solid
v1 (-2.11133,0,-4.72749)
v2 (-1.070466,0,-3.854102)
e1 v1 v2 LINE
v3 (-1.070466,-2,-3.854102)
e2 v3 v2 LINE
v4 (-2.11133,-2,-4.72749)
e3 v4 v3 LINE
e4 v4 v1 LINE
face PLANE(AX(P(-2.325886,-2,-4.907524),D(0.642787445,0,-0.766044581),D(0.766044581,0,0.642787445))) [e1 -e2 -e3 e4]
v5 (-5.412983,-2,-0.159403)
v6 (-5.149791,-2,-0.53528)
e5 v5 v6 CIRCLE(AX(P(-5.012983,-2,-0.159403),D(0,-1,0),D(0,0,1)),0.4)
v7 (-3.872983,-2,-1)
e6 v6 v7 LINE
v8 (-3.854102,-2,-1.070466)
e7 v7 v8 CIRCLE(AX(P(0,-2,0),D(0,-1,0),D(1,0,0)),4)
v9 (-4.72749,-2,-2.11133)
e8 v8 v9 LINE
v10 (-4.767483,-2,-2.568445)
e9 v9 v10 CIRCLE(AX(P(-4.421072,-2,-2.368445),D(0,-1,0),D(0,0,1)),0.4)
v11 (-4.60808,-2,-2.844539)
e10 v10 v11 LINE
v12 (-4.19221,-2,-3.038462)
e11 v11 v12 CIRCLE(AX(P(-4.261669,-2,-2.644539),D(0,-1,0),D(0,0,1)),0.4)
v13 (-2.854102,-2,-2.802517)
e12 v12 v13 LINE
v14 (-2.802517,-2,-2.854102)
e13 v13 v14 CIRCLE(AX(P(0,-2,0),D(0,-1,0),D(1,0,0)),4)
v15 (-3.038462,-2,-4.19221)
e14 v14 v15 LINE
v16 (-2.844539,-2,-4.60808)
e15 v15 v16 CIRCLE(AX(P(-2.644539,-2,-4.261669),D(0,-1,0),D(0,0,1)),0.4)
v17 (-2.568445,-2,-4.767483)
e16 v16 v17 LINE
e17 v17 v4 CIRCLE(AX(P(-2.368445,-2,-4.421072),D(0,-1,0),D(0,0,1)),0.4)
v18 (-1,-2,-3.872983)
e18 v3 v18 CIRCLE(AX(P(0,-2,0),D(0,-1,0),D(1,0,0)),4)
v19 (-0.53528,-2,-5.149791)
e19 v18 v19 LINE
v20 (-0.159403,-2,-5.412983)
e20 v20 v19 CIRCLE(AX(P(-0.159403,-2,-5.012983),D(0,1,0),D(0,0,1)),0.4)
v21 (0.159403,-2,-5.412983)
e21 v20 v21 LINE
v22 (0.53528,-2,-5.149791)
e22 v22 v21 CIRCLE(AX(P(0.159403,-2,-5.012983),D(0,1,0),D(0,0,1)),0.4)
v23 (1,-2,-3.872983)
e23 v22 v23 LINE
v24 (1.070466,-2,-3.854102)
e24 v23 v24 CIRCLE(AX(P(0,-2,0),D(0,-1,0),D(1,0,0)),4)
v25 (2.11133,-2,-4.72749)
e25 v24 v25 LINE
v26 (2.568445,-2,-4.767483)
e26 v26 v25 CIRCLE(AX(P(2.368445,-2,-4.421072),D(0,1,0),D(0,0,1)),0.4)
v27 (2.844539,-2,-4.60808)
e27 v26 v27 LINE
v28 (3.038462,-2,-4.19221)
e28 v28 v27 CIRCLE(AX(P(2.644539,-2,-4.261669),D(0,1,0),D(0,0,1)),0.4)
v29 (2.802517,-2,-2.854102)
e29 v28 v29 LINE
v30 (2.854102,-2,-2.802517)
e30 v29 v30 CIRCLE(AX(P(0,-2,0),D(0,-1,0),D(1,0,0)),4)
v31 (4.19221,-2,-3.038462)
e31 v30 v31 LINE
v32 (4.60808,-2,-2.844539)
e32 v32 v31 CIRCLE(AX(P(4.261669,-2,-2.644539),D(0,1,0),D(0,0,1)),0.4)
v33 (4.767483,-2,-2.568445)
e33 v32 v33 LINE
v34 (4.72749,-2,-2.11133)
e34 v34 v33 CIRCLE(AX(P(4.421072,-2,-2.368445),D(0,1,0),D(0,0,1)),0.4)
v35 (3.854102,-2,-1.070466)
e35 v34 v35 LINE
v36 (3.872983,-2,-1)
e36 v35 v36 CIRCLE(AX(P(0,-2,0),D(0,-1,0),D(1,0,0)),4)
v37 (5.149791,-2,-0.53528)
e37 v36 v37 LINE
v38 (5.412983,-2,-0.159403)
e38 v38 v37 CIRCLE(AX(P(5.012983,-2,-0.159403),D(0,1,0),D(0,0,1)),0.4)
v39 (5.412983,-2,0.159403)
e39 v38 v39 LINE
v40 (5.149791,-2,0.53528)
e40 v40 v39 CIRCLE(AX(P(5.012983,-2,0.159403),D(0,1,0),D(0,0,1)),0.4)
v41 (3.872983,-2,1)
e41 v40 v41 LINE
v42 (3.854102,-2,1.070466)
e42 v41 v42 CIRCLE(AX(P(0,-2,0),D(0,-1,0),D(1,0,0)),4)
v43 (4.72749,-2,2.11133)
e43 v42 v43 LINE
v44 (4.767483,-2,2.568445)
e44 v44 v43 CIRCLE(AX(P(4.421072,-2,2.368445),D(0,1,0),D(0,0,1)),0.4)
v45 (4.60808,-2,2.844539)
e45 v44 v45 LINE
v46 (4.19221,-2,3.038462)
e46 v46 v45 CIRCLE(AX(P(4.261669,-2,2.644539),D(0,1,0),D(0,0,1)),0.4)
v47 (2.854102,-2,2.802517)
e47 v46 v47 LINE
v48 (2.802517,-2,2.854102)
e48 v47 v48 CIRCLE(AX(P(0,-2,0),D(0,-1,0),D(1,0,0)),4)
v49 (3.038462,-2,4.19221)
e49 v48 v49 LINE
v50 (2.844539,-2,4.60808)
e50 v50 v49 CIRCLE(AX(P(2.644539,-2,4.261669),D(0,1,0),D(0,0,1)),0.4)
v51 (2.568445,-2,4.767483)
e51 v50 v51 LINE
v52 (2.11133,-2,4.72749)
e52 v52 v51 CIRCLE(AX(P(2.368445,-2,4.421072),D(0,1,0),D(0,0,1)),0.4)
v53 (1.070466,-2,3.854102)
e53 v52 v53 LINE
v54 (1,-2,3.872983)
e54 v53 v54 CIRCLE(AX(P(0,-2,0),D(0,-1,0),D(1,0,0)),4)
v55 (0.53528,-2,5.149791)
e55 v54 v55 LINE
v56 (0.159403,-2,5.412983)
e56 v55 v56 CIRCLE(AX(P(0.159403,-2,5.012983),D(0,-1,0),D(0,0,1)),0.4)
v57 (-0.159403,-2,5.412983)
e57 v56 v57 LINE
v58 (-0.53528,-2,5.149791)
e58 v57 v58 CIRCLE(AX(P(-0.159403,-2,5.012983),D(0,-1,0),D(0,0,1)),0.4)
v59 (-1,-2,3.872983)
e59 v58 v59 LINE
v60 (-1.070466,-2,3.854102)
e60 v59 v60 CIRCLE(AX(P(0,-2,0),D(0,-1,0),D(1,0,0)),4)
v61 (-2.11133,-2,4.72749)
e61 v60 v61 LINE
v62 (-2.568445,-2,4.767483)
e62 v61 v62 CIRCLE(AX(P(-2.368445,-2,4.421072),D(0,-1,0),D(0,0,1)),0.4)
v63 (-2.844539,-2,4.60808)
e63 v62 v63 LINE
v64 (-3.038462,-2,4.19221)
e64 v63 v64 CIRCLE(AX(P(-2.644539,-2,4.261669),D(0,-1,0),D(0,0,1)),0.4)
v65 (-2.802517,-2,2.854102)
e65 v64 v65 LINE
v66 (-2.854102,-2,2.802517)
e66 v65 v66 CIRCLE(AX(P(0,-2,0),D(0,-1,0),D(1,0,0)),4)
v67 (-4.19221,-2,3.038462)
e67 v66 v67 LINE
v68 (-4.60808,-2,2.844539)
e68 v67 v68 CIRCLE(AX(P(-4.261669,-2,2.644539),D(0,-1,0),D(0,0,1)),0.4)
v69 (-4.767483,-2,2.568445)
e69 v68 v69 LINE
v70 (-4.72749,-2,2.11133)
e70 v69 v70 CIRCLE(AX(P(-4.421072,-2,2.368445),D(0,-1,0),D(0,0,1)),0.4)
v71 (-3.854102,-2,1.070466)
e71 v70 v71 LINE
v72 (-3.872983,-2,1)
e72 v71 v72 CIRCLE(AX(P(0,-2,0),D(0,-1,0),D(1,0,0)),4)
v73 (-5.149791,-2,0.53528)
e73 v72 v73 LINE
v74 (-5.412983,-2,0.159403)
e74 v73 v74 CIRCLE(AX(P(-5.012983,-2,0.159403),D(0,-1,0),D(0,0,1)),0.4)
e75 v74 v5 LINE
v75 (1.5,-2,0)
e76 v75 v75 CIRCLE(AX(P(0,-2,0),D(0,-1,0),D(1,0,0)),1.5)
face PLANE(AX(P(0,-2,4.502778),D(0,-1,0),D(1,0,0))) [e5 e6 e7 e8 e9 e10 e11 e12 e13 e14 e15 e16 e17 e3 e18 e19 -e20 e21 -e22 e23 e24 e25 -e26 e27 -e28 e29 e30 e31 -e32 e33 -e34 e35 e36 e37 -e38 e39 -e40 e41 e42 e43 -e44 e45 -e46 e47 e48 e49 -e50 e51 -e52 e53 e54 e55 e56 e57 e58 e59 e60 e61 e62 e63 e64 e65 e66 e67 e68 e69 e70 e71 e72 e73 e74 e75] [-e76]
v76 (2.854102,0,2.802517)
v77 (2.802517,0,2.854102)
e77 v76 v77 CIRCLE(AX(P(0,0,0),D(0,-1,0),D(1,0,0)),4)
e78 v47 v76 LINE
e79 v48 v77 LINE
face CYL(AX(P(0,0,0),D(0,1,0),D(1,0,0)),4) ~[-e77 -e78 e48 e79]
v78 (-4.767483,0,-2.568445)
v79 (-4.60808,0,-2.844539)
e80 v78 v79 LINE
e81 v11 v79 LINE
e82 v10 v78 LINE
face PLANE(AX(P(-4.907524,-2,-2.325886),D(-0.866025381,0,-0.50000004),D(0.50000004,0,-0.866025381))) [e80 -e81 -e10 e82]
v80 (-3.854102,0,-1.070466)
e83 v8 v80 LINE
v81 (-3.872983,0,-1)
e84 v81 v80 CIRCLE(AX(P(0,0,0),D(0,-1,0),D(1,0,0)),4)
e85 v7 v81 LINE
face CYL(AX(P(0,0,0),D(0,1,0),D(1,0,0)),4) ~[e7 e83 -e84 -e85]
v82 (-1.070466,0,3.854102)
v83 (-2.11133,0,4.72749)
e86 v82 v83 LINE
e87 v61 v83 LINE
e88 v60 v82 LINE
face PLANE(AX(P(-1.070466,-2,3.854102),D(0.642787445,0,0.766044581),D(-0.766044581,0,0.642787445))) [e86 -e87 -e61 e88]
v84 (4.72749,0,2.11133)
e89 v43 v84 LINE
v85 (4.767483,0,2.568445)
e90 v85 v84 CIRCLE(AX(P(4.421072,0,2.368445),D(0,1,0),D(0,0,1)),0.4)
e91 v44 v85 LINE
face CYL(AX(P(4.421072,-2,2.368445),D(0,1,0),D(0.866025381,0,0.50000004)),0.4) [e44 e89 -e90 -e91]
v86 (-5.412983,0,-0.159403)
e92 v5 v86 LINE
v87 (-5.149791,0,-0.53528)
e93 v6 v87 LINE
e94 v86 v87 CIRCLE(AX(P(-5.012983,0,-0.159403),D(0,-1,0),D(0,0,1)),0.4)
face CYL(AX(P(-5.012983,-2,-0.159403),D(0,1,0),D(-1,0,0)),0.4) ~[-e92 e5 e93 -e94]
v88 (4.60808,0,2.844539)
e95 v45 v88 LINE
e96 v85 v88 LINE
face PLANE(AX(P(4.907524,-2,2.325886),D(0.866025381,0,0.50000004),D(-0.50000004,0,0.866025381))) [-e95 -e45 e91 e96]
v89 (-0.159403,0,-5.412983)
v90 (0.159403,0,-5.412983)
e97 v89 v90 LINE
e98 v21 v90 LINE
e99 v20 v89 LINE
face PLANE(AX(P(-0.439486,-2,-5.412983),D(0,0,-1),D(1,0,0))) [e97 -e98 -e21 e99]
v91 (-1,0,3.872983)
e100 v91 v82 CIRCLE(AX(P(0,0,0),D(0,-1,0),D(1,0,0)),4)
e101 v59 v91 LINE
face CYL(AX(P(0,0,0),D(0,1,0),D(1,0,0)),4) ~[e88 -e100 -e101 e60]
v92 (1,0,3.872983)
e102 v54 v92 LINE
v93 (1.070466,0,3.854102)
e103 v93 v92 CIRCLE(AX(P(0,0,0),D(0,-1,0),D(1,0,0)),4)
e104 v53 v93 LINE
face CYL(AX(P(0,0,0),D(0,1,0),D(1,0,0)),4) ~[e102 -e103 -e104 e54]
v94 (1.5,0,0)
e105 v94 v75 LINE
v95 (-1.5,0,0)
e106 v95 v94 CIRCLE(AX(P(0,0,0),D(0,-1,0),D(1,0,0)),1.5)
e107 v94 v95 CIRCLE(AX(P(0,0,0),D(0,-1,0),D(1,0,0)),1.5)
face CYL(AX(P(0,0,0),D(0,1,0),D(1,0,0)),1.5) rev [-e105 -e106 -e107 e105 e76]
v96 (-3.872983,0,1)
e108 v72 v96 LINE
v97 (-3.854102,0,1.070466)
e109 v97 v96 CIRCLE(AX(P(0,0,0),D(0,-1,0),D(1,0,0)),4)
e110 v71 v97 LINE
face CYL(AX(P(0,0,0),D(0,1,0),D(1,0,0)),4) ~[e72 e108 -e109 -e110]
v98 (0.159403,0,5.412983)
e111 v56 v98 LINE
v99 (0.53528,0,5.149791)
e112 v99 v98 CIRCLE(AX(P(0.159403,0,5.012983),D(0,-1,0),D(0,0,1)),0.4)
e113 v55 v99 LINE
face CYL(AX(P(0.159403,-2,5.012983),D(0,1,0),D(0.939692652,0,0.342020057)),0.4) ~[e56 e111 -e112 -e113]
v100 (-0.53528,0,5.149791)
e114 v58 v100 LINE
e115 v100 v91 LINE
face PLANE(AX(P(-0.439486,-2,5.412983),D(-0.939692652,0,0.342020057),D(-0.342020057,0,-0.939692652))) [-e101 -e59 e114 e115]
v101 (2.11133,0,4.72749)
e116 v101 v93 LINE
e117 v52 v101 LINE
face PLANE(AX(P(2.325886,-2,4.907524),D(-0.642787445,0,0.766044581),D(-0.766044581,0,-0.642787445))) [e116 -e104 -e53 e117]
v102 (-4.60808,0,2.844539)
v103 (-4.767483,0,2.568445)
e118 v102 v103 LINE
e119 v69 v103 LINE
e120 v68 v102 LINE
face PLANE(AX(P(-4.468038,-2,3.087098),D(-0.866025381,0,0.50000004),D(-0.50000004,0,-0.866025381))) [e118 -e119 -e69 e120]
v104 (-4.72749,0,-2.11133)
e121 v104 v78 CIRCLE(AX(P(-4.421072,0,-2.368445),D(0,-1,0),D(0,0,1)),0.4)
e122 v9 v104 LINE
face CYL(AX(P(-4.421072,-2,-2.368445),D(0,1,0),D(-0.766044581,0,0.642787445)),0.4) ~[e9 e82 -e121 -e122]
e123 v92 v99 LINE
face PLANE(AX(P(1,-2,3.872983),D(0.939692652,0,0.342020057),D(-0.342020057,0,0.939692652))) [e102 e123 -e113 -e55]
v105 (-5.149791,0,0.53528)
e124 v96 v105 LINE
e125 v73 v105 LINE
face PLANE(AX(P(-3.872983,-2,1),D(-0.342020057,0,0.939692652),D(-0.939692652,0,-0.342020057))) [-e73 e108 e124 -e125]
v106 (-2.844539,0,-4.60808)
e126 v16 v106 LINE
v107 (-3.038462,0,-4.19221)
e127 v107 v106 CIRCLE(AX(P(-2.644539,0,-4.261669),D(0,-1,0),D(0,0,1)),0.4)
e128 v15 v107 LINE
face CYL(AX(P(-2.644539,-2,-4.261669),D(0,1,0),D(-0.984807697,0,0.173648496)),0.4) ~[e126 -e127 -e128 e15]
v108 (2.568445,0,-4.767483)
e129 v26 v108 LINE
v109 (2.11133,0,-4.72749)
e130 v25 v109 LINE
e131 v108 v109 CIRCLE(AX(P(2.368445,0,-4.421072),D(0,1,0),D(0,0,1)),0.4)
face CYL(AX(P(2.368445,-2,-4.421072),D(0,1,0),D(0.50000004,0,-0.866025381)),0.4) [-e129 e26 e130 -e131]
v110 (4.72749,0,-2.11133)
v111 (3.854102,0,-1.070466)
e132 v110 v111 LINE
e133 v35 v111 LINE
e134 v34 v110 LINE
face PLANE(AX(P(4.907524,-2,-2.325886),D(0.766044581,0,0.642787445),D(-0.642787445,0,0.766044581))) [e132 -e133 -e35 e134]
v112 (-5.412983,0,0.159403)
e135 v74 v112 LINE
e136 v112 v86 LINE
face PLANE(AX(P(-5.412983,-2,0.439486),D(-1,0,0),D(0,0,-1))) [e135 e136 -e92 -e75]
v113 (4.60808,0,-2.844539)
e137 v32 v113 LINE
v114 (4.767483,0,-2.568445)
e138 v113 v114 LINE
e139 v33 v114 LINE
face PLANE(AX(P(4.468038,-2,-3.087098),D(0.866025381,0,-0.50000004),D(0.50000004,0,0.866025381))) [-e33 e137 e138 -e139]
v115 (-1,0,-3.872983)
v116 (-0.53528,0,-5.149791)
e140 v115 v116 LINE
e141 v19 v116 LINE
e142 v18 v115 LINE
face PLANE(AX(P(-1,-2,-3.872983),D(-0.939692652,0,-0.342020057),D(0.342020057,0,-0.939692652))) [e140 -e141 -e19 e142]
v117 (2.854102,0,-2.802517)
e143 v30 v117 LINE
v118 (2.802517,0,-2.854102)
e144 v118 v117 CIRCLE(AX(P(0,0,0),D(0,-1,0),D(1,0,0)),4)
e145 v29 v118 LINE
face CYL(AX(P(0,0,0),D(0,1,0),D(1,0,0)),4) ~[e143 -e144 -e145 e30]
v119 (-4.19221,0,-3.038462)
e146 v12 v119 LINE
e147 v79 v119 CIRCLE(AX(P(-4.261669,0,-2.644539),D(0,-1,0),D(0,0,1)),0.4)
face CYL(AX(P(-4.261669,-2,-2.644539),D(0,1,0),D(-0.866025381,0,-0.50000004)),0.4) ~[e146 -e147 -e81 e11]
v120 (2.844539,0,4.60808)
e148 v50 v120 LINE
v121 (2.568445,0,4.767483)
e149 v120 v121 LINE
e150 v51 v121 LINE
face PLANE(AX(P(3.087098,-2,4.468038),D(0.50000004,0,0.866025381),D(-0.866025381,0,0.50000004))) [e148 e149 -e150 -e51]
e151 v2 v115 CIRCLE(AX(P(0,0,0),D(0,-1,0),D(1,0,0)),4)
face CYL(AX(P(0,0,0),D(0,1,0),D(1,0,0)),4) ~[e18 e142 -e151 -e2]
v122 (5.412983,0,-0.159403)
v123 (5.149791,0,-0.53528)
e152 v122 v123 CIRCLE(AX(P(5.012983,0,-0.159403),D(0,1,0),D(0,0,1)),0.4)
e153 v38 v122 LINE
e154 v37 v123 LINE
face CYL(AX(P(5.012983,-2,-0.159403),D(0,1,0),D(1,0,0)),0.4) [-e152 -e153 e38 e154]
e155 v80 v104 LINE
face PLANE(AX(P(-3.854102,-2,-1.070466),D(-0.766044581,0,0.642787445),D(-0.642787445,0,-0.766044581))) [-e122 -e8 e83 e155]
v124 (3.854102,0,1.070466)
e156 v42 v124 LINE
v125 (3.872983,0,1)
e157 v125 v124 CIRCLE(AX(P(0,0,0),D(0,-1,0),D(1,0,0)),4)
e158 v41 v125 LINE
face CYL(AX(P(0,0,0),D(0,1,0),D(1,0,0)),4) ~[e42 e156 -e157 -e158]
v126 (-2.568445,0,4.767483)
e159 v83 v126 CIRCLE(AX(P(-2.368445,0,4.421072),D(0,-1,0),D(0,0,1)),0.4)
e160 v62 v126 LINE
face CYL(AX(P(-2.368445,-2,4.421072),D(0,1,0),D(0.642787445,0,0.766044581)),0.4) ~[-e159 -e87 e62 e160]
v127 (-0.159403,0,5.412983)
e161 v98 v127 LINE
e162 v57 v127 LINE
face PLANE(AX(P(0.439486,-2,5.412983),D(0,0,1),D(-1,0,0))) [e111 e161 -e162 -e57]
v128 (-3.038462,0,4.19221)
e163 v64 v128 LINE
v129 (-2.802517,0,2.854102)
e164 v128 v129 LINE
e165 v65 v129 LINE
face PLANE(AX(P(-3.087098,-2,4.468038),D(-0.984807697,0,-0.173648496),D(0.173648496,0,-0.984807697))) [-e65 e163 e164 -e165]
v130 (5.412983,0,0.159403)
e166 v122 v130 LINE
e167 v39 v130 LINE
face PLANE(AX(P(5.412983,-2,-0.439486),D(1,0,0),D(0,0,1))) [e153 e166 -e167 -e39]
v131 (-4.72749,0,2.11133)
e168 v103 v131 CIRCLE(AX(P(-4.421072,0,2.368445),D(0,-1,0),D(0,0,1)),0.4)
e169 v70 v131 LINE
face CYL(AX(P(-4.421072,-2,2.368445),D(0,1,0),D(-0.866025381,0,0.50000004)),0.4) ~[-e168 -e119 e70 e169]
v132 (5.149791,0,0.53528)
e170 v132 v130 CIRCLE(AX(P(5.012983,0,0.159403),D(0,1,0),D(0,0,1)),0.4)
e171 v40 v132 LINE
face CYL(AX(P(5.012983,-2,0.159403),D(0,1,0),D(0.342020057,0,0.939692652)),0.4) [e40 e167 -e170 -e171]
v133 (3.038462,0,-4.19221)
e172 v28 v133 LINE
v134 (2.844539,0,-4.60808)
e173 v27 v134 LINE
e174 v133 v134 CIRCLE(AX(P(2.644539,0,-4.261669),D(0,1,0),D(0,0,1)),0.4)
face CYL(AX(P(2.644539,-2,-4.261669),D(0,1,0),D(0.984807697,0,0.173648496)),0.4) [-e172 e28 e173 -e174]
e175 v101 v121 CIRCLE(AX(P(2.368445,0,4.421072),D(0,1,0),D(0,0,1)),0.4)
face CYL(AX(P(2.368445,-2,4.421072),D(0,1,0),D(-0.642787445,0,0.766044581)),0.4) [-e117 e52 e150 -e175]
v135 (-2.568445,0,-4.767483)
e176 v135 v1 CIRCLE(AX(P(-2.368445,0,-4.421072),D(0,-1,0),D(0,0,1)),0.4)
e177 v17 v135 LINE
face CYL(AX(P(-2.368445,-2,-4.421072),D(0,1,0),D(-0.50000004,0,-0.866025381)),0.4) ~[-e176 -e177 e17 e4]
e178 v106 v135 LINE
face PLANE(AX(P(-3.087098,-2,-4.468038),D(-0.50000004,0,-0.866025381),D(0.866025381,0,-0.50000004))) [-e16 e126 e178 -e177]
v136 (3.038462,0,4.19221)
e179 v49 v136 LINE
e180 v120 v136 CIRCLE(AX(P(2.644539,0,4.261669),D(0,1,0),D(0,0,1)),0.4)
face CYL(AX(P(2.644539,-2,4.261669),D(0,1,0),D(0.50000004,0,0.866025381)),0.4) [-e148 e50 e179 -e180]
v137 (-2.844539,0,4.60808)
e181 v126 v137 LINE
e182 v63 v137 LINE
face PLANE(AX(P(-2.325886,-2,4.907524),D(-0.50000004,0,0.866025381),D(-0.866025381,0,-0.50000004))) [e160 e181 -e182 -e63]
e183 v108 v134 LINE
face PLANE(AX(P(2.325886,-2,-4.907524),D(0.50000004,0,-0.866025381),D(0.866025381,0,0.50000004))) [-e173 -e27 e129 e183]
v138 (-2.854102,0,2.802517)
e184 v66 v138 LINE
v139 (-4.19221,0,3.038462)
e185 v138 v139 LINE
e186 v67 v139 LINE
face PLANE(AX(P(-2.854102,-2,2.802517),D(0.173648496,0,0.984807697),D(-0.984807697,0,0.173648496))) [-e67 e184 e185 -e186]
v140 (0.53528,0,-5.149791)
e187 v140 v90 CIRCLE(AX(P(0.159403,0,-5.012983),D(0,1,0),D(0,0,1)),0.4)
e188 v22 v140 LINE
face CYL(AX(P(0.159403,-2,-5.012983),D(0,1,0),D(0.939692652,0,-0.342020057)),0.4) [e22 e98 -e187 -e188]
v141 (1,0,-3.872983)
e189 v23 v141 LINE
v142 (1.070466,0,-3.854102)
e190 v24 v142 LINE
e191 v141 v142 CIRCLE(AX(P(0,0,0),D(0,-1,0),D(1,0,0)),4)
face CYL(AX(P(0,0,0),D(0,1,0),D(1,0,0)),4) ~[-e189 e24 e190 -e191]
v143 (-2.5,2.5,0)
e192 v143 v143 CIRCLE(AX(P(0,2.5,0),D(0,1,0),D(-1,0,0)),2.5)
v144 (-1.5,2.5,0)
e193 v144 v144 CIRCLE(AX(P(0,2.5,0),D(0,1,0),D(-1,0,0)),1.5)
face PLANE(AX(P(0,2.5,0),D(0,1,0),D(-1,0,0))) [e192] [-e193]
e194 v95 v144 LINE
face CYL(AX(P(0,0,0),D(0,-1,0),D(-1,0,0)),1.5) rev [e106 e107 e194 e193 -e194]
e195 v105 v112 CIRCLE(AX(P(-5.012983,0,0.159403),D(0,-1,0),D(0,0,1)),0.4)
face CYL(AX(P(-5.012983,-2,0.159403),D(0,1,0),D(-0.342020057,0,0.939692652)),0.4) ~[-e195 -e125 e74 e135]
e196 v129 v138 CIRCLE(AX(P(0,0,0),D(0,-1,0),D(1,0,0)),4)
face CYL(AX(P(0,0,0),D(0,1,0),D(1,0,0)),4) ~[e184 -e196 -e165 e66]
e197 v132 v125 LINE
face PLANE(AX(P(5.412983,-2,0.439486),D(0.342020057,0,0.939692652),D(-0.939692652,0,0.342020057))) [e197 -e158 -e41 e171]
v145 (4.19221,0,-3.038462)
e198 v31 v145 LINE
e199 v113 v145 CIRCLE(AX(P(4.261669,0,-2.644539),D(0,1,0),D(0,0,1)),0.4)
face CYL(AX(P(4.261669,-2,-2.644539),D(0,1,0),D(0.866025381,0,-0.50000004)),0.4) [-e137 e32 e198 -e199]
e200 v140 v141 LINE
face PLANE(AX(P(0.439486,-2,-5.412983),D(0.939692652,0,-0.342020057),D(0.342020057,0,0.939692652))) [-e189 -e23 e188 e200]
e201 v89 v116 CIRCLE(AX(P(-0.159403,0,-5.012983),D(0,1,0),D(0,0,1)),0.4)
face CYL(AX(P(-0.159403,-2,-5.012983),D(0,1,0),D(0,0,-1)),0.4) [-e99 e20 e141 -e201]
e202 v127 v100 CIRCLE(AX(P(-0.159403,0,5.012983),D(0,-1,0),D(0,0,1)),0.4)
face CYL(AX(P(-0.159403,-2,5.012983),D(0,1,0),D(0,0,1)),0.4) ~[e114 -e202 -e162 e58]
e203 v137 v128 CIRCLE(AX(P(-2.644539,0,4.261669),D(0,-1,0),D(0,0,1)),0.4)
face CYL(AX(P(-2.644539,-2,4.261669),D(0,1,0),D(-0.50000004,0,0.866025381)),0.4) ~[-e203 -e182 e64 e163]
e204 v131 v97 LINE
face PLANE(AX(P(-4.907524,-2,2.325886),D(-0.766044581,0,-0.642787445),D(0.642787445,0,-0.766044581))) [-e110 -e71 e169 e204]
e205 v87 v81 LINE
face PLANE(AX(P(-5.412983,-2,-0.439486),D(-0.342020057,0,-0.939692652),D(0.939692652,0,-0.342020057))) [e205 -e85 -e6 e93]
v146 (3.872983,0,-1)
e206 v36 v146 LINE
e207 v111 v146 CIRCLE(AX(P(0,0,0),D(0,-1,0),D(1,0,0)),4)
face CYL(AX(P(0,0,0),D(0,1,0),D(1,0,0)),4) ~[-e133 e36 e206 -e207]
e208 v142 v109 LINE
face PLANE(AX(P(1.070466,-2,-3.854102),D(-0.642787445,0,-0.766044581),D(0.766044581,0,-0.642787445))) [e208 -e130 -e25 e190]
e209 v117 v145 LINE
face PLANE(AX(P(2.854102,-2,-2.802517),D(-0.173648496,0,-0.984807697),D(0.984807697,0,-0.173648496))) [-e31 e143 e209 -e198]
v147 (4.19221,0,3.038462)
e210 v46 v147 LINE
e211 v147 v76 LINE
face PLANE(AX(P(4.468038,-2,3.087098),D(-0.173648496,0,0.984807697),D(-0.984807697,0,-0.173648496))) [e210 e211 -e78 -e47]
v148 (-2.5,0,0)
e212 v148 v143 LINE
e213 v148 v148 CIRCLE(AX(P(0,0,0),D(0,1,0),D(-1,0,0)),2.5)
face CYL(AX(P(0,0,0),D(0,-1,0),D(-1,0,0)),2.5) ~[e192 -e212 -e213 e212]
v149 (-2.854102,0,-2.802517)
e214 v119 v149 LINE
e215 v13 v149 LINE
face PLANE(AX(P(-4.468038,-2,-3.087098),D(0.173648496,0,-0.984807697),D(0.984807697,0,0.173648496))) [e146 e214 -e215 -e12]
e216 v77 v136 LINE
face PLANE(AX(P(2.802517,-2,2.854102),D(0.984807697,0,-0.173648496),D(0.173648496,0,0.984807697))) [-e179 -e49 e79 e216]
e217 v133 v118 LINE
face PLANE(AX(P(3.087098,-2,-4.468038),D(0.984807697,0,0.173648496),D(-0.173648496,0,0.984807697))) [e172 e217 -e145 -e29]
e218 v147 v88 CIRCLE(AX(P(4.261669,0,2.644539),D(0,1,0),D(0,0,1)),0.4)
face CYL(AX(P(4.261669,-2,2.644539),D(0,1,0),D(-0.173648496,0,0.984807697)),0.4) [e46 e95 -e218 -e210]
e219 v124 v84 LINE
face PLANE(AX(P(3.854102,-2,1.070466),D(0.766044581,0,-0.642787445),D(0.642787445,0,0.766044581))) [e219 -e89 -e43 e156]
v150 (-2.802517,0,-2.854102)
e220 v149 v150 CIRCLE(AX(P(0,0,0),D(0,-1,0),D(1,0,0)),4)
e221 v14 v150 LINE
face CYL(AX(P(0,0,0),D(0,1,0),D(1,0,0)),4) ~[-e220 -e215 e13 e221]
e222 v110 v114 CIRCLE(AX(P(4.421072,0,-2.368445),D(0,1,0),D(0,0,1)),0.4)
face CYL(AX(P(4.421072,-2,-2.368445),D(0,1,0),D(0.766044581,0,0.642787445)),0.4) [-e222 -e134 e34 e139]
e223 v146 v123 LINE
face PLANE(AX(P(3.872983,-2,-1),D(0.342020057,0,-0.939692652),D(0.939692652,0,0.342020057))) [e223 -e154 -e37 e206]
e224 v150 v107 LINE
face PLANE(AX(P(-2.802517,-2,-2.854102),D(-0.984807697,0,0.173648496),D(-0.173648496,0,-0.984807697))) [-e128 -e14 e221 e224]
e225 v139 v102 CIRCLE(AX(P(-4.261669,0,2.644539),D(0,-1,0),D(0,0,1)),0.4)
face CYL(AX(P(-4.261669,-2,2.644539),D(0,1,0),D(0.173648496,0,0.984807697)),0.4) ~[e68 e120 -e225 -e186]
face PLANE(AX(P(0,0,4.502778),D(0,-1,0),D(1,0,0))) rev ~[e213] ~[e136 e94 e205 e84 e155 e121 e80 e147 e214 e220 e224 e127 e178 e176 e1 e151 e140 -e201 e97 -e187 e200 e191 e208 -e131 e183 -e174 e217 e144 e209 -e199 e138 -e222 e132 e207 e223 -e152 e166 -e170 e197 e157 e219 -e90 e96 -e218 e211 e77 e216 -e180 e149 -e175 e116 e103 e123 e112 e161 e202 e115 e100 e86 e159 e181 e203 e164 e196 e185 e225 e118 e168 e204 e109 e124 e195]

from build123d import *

# Parameters (mm, degrees)
F0_R     = 4
F0_R_2   = 1.5
F1_DEPTH = 2
F3_DEPTH = 2
F4_R     = 2.5
F4_R_2   = 1.5
F5_DEPTH = 2.5
F6_R     = 0.4


with BuildPart() as f1:
    # F0 (on Front) → F1 (new body)
    with BuildSketch(Plane.XZ):
        Circle(F0_R)
        Circle(F0_R_2, mode=Mode.SUBTRACT)
    extrude(amount=F1_DEPTH)

    # F2 (on face) → F3 (join, through all)
    with BuildSketch(Plane.XZ.offset(2)):
        Polygon((0.439486, 5.412983), (0, 5.412983), (-0.439486, 5.412983), (-1, 3.872983), (1, 3.872983), align=None)
        Polygon((-3.087098, 4.468038), (-2.802517, 2.854102), (-1.070466, 3.854102), (-2.325886, 4.907524), (-2.706492, 4.687781), align=None)
        Polygon((-4.907524, 2.325886), (-3.854102, 1.070466), (-2.854102, 2.802517), (-4.468038, 3.087098), (-4.687781, 2.706492), align=None)
        Polygon((-5.412983, -0.439486), (-3.872983, -1), (-3.872983, 1), (-5.412983, 0.439486), (-5.412983, 0), align=None)
        Polygon((-4.468038, -3.087098), (-2.854102, -2.802517), (-3.854102, -1.070466), (-4.907524, -2.325886), (-4.687781, -2.706492), align=None)
        Polygon((-2.325886, -4.907524), (-1.070466, -3.854102), (-2.802517, -2.854102), (-3.087098, -4.468038), (-2.706492, -4.687781), align=None)
        Polygon((0.439486, -5.412983), (1, -3.872983), (-1, -3.872983), (-0.439486, -5.412983), (0, -5.412983), align=None)
        Polygon((3.087098, -4.468038), (2.802517, -2.854102), (1.070466, -3.854102), (2.325886, -4.907524), (2.706492, -4.687781), align=None)
        Polygon((4.907524, -2.325886), (3.854102, -1.070466), (2.854102, -2.802517), (4.468038, -3.087098), (4.687781, -2.706492), align=None)
        Polygon((5.412983, 0.439486), (3.872983, 1), (3.872983, -1), (5.412983, -0.439486), (5.412983, 0), align=None)
        Polygon((4.468038, 3.087098), (2.854102, 2.802517), (3.854102, 1.070466), (4.907524, 2.325886), (4.687781, 2.706492), align=None)
        Polygon((2.325886, 4.907524), (1.070466, 3.854102), (2.802517, 2.854102), (3.087098, 4.468038), (2.706492, 4.687781), align=None)
    extrude(amount=-F3_DEPTH)

    # F4 (on face) → F5 (join)
    with BuildSketch(Plane(origin=(0, 0, 0), x_dir=(-1, 0, 0), z_dir=(0, 1, 0))):
        Circle(F4_R)
        Circle(F4_R_2, mode=Mode.SUBTRACT)
    extrude(amount=F5_DEPTH)

    # F6
    f6_edges = [f1.edges().sort_by_distance(p)[0] for p in [
        (2.325886, -1, 4.907524),
        (3.087098, -1, 4.468038),
        (4.468038, -1, 3.087098),
        (4.907524, -1, 2.325886),
        (5.412983, -1, 0.439486),
        (5.412983, -1, -0.439486),
        (4.907524, -1, -2.325886),
        (4.468038, -1, -3.087098),
        (3.087098, -1, -4.468038),
        (2.325886, -1, -4.907524),
        (0.439486, -1, -5.412983),
        (-0.439486, -1, -5.412983),
        (-2.325886, -1, -4.907524),
        (-3.087098, -1, -4.468038),
        (-4.468038, -1, -3.087098),
        (-4.907524, -1, -2.325886),
        (-5.412983, -1, -0.439486),
        (-5.412983, -1, 0.439486),
        (-4.907524, -1, 2.325886),
        (-4.468038, -1, 3.087098),
        (-3.087098, -1, 4.468038),
        (-2.325886, -1, 4.907524),
        (-0.439486, -1, 5.412983),
        (0.439486, -1, 5.412983),
    ]]
    fillet(f6_edges, radius=F6_R)


solid = f1.part
